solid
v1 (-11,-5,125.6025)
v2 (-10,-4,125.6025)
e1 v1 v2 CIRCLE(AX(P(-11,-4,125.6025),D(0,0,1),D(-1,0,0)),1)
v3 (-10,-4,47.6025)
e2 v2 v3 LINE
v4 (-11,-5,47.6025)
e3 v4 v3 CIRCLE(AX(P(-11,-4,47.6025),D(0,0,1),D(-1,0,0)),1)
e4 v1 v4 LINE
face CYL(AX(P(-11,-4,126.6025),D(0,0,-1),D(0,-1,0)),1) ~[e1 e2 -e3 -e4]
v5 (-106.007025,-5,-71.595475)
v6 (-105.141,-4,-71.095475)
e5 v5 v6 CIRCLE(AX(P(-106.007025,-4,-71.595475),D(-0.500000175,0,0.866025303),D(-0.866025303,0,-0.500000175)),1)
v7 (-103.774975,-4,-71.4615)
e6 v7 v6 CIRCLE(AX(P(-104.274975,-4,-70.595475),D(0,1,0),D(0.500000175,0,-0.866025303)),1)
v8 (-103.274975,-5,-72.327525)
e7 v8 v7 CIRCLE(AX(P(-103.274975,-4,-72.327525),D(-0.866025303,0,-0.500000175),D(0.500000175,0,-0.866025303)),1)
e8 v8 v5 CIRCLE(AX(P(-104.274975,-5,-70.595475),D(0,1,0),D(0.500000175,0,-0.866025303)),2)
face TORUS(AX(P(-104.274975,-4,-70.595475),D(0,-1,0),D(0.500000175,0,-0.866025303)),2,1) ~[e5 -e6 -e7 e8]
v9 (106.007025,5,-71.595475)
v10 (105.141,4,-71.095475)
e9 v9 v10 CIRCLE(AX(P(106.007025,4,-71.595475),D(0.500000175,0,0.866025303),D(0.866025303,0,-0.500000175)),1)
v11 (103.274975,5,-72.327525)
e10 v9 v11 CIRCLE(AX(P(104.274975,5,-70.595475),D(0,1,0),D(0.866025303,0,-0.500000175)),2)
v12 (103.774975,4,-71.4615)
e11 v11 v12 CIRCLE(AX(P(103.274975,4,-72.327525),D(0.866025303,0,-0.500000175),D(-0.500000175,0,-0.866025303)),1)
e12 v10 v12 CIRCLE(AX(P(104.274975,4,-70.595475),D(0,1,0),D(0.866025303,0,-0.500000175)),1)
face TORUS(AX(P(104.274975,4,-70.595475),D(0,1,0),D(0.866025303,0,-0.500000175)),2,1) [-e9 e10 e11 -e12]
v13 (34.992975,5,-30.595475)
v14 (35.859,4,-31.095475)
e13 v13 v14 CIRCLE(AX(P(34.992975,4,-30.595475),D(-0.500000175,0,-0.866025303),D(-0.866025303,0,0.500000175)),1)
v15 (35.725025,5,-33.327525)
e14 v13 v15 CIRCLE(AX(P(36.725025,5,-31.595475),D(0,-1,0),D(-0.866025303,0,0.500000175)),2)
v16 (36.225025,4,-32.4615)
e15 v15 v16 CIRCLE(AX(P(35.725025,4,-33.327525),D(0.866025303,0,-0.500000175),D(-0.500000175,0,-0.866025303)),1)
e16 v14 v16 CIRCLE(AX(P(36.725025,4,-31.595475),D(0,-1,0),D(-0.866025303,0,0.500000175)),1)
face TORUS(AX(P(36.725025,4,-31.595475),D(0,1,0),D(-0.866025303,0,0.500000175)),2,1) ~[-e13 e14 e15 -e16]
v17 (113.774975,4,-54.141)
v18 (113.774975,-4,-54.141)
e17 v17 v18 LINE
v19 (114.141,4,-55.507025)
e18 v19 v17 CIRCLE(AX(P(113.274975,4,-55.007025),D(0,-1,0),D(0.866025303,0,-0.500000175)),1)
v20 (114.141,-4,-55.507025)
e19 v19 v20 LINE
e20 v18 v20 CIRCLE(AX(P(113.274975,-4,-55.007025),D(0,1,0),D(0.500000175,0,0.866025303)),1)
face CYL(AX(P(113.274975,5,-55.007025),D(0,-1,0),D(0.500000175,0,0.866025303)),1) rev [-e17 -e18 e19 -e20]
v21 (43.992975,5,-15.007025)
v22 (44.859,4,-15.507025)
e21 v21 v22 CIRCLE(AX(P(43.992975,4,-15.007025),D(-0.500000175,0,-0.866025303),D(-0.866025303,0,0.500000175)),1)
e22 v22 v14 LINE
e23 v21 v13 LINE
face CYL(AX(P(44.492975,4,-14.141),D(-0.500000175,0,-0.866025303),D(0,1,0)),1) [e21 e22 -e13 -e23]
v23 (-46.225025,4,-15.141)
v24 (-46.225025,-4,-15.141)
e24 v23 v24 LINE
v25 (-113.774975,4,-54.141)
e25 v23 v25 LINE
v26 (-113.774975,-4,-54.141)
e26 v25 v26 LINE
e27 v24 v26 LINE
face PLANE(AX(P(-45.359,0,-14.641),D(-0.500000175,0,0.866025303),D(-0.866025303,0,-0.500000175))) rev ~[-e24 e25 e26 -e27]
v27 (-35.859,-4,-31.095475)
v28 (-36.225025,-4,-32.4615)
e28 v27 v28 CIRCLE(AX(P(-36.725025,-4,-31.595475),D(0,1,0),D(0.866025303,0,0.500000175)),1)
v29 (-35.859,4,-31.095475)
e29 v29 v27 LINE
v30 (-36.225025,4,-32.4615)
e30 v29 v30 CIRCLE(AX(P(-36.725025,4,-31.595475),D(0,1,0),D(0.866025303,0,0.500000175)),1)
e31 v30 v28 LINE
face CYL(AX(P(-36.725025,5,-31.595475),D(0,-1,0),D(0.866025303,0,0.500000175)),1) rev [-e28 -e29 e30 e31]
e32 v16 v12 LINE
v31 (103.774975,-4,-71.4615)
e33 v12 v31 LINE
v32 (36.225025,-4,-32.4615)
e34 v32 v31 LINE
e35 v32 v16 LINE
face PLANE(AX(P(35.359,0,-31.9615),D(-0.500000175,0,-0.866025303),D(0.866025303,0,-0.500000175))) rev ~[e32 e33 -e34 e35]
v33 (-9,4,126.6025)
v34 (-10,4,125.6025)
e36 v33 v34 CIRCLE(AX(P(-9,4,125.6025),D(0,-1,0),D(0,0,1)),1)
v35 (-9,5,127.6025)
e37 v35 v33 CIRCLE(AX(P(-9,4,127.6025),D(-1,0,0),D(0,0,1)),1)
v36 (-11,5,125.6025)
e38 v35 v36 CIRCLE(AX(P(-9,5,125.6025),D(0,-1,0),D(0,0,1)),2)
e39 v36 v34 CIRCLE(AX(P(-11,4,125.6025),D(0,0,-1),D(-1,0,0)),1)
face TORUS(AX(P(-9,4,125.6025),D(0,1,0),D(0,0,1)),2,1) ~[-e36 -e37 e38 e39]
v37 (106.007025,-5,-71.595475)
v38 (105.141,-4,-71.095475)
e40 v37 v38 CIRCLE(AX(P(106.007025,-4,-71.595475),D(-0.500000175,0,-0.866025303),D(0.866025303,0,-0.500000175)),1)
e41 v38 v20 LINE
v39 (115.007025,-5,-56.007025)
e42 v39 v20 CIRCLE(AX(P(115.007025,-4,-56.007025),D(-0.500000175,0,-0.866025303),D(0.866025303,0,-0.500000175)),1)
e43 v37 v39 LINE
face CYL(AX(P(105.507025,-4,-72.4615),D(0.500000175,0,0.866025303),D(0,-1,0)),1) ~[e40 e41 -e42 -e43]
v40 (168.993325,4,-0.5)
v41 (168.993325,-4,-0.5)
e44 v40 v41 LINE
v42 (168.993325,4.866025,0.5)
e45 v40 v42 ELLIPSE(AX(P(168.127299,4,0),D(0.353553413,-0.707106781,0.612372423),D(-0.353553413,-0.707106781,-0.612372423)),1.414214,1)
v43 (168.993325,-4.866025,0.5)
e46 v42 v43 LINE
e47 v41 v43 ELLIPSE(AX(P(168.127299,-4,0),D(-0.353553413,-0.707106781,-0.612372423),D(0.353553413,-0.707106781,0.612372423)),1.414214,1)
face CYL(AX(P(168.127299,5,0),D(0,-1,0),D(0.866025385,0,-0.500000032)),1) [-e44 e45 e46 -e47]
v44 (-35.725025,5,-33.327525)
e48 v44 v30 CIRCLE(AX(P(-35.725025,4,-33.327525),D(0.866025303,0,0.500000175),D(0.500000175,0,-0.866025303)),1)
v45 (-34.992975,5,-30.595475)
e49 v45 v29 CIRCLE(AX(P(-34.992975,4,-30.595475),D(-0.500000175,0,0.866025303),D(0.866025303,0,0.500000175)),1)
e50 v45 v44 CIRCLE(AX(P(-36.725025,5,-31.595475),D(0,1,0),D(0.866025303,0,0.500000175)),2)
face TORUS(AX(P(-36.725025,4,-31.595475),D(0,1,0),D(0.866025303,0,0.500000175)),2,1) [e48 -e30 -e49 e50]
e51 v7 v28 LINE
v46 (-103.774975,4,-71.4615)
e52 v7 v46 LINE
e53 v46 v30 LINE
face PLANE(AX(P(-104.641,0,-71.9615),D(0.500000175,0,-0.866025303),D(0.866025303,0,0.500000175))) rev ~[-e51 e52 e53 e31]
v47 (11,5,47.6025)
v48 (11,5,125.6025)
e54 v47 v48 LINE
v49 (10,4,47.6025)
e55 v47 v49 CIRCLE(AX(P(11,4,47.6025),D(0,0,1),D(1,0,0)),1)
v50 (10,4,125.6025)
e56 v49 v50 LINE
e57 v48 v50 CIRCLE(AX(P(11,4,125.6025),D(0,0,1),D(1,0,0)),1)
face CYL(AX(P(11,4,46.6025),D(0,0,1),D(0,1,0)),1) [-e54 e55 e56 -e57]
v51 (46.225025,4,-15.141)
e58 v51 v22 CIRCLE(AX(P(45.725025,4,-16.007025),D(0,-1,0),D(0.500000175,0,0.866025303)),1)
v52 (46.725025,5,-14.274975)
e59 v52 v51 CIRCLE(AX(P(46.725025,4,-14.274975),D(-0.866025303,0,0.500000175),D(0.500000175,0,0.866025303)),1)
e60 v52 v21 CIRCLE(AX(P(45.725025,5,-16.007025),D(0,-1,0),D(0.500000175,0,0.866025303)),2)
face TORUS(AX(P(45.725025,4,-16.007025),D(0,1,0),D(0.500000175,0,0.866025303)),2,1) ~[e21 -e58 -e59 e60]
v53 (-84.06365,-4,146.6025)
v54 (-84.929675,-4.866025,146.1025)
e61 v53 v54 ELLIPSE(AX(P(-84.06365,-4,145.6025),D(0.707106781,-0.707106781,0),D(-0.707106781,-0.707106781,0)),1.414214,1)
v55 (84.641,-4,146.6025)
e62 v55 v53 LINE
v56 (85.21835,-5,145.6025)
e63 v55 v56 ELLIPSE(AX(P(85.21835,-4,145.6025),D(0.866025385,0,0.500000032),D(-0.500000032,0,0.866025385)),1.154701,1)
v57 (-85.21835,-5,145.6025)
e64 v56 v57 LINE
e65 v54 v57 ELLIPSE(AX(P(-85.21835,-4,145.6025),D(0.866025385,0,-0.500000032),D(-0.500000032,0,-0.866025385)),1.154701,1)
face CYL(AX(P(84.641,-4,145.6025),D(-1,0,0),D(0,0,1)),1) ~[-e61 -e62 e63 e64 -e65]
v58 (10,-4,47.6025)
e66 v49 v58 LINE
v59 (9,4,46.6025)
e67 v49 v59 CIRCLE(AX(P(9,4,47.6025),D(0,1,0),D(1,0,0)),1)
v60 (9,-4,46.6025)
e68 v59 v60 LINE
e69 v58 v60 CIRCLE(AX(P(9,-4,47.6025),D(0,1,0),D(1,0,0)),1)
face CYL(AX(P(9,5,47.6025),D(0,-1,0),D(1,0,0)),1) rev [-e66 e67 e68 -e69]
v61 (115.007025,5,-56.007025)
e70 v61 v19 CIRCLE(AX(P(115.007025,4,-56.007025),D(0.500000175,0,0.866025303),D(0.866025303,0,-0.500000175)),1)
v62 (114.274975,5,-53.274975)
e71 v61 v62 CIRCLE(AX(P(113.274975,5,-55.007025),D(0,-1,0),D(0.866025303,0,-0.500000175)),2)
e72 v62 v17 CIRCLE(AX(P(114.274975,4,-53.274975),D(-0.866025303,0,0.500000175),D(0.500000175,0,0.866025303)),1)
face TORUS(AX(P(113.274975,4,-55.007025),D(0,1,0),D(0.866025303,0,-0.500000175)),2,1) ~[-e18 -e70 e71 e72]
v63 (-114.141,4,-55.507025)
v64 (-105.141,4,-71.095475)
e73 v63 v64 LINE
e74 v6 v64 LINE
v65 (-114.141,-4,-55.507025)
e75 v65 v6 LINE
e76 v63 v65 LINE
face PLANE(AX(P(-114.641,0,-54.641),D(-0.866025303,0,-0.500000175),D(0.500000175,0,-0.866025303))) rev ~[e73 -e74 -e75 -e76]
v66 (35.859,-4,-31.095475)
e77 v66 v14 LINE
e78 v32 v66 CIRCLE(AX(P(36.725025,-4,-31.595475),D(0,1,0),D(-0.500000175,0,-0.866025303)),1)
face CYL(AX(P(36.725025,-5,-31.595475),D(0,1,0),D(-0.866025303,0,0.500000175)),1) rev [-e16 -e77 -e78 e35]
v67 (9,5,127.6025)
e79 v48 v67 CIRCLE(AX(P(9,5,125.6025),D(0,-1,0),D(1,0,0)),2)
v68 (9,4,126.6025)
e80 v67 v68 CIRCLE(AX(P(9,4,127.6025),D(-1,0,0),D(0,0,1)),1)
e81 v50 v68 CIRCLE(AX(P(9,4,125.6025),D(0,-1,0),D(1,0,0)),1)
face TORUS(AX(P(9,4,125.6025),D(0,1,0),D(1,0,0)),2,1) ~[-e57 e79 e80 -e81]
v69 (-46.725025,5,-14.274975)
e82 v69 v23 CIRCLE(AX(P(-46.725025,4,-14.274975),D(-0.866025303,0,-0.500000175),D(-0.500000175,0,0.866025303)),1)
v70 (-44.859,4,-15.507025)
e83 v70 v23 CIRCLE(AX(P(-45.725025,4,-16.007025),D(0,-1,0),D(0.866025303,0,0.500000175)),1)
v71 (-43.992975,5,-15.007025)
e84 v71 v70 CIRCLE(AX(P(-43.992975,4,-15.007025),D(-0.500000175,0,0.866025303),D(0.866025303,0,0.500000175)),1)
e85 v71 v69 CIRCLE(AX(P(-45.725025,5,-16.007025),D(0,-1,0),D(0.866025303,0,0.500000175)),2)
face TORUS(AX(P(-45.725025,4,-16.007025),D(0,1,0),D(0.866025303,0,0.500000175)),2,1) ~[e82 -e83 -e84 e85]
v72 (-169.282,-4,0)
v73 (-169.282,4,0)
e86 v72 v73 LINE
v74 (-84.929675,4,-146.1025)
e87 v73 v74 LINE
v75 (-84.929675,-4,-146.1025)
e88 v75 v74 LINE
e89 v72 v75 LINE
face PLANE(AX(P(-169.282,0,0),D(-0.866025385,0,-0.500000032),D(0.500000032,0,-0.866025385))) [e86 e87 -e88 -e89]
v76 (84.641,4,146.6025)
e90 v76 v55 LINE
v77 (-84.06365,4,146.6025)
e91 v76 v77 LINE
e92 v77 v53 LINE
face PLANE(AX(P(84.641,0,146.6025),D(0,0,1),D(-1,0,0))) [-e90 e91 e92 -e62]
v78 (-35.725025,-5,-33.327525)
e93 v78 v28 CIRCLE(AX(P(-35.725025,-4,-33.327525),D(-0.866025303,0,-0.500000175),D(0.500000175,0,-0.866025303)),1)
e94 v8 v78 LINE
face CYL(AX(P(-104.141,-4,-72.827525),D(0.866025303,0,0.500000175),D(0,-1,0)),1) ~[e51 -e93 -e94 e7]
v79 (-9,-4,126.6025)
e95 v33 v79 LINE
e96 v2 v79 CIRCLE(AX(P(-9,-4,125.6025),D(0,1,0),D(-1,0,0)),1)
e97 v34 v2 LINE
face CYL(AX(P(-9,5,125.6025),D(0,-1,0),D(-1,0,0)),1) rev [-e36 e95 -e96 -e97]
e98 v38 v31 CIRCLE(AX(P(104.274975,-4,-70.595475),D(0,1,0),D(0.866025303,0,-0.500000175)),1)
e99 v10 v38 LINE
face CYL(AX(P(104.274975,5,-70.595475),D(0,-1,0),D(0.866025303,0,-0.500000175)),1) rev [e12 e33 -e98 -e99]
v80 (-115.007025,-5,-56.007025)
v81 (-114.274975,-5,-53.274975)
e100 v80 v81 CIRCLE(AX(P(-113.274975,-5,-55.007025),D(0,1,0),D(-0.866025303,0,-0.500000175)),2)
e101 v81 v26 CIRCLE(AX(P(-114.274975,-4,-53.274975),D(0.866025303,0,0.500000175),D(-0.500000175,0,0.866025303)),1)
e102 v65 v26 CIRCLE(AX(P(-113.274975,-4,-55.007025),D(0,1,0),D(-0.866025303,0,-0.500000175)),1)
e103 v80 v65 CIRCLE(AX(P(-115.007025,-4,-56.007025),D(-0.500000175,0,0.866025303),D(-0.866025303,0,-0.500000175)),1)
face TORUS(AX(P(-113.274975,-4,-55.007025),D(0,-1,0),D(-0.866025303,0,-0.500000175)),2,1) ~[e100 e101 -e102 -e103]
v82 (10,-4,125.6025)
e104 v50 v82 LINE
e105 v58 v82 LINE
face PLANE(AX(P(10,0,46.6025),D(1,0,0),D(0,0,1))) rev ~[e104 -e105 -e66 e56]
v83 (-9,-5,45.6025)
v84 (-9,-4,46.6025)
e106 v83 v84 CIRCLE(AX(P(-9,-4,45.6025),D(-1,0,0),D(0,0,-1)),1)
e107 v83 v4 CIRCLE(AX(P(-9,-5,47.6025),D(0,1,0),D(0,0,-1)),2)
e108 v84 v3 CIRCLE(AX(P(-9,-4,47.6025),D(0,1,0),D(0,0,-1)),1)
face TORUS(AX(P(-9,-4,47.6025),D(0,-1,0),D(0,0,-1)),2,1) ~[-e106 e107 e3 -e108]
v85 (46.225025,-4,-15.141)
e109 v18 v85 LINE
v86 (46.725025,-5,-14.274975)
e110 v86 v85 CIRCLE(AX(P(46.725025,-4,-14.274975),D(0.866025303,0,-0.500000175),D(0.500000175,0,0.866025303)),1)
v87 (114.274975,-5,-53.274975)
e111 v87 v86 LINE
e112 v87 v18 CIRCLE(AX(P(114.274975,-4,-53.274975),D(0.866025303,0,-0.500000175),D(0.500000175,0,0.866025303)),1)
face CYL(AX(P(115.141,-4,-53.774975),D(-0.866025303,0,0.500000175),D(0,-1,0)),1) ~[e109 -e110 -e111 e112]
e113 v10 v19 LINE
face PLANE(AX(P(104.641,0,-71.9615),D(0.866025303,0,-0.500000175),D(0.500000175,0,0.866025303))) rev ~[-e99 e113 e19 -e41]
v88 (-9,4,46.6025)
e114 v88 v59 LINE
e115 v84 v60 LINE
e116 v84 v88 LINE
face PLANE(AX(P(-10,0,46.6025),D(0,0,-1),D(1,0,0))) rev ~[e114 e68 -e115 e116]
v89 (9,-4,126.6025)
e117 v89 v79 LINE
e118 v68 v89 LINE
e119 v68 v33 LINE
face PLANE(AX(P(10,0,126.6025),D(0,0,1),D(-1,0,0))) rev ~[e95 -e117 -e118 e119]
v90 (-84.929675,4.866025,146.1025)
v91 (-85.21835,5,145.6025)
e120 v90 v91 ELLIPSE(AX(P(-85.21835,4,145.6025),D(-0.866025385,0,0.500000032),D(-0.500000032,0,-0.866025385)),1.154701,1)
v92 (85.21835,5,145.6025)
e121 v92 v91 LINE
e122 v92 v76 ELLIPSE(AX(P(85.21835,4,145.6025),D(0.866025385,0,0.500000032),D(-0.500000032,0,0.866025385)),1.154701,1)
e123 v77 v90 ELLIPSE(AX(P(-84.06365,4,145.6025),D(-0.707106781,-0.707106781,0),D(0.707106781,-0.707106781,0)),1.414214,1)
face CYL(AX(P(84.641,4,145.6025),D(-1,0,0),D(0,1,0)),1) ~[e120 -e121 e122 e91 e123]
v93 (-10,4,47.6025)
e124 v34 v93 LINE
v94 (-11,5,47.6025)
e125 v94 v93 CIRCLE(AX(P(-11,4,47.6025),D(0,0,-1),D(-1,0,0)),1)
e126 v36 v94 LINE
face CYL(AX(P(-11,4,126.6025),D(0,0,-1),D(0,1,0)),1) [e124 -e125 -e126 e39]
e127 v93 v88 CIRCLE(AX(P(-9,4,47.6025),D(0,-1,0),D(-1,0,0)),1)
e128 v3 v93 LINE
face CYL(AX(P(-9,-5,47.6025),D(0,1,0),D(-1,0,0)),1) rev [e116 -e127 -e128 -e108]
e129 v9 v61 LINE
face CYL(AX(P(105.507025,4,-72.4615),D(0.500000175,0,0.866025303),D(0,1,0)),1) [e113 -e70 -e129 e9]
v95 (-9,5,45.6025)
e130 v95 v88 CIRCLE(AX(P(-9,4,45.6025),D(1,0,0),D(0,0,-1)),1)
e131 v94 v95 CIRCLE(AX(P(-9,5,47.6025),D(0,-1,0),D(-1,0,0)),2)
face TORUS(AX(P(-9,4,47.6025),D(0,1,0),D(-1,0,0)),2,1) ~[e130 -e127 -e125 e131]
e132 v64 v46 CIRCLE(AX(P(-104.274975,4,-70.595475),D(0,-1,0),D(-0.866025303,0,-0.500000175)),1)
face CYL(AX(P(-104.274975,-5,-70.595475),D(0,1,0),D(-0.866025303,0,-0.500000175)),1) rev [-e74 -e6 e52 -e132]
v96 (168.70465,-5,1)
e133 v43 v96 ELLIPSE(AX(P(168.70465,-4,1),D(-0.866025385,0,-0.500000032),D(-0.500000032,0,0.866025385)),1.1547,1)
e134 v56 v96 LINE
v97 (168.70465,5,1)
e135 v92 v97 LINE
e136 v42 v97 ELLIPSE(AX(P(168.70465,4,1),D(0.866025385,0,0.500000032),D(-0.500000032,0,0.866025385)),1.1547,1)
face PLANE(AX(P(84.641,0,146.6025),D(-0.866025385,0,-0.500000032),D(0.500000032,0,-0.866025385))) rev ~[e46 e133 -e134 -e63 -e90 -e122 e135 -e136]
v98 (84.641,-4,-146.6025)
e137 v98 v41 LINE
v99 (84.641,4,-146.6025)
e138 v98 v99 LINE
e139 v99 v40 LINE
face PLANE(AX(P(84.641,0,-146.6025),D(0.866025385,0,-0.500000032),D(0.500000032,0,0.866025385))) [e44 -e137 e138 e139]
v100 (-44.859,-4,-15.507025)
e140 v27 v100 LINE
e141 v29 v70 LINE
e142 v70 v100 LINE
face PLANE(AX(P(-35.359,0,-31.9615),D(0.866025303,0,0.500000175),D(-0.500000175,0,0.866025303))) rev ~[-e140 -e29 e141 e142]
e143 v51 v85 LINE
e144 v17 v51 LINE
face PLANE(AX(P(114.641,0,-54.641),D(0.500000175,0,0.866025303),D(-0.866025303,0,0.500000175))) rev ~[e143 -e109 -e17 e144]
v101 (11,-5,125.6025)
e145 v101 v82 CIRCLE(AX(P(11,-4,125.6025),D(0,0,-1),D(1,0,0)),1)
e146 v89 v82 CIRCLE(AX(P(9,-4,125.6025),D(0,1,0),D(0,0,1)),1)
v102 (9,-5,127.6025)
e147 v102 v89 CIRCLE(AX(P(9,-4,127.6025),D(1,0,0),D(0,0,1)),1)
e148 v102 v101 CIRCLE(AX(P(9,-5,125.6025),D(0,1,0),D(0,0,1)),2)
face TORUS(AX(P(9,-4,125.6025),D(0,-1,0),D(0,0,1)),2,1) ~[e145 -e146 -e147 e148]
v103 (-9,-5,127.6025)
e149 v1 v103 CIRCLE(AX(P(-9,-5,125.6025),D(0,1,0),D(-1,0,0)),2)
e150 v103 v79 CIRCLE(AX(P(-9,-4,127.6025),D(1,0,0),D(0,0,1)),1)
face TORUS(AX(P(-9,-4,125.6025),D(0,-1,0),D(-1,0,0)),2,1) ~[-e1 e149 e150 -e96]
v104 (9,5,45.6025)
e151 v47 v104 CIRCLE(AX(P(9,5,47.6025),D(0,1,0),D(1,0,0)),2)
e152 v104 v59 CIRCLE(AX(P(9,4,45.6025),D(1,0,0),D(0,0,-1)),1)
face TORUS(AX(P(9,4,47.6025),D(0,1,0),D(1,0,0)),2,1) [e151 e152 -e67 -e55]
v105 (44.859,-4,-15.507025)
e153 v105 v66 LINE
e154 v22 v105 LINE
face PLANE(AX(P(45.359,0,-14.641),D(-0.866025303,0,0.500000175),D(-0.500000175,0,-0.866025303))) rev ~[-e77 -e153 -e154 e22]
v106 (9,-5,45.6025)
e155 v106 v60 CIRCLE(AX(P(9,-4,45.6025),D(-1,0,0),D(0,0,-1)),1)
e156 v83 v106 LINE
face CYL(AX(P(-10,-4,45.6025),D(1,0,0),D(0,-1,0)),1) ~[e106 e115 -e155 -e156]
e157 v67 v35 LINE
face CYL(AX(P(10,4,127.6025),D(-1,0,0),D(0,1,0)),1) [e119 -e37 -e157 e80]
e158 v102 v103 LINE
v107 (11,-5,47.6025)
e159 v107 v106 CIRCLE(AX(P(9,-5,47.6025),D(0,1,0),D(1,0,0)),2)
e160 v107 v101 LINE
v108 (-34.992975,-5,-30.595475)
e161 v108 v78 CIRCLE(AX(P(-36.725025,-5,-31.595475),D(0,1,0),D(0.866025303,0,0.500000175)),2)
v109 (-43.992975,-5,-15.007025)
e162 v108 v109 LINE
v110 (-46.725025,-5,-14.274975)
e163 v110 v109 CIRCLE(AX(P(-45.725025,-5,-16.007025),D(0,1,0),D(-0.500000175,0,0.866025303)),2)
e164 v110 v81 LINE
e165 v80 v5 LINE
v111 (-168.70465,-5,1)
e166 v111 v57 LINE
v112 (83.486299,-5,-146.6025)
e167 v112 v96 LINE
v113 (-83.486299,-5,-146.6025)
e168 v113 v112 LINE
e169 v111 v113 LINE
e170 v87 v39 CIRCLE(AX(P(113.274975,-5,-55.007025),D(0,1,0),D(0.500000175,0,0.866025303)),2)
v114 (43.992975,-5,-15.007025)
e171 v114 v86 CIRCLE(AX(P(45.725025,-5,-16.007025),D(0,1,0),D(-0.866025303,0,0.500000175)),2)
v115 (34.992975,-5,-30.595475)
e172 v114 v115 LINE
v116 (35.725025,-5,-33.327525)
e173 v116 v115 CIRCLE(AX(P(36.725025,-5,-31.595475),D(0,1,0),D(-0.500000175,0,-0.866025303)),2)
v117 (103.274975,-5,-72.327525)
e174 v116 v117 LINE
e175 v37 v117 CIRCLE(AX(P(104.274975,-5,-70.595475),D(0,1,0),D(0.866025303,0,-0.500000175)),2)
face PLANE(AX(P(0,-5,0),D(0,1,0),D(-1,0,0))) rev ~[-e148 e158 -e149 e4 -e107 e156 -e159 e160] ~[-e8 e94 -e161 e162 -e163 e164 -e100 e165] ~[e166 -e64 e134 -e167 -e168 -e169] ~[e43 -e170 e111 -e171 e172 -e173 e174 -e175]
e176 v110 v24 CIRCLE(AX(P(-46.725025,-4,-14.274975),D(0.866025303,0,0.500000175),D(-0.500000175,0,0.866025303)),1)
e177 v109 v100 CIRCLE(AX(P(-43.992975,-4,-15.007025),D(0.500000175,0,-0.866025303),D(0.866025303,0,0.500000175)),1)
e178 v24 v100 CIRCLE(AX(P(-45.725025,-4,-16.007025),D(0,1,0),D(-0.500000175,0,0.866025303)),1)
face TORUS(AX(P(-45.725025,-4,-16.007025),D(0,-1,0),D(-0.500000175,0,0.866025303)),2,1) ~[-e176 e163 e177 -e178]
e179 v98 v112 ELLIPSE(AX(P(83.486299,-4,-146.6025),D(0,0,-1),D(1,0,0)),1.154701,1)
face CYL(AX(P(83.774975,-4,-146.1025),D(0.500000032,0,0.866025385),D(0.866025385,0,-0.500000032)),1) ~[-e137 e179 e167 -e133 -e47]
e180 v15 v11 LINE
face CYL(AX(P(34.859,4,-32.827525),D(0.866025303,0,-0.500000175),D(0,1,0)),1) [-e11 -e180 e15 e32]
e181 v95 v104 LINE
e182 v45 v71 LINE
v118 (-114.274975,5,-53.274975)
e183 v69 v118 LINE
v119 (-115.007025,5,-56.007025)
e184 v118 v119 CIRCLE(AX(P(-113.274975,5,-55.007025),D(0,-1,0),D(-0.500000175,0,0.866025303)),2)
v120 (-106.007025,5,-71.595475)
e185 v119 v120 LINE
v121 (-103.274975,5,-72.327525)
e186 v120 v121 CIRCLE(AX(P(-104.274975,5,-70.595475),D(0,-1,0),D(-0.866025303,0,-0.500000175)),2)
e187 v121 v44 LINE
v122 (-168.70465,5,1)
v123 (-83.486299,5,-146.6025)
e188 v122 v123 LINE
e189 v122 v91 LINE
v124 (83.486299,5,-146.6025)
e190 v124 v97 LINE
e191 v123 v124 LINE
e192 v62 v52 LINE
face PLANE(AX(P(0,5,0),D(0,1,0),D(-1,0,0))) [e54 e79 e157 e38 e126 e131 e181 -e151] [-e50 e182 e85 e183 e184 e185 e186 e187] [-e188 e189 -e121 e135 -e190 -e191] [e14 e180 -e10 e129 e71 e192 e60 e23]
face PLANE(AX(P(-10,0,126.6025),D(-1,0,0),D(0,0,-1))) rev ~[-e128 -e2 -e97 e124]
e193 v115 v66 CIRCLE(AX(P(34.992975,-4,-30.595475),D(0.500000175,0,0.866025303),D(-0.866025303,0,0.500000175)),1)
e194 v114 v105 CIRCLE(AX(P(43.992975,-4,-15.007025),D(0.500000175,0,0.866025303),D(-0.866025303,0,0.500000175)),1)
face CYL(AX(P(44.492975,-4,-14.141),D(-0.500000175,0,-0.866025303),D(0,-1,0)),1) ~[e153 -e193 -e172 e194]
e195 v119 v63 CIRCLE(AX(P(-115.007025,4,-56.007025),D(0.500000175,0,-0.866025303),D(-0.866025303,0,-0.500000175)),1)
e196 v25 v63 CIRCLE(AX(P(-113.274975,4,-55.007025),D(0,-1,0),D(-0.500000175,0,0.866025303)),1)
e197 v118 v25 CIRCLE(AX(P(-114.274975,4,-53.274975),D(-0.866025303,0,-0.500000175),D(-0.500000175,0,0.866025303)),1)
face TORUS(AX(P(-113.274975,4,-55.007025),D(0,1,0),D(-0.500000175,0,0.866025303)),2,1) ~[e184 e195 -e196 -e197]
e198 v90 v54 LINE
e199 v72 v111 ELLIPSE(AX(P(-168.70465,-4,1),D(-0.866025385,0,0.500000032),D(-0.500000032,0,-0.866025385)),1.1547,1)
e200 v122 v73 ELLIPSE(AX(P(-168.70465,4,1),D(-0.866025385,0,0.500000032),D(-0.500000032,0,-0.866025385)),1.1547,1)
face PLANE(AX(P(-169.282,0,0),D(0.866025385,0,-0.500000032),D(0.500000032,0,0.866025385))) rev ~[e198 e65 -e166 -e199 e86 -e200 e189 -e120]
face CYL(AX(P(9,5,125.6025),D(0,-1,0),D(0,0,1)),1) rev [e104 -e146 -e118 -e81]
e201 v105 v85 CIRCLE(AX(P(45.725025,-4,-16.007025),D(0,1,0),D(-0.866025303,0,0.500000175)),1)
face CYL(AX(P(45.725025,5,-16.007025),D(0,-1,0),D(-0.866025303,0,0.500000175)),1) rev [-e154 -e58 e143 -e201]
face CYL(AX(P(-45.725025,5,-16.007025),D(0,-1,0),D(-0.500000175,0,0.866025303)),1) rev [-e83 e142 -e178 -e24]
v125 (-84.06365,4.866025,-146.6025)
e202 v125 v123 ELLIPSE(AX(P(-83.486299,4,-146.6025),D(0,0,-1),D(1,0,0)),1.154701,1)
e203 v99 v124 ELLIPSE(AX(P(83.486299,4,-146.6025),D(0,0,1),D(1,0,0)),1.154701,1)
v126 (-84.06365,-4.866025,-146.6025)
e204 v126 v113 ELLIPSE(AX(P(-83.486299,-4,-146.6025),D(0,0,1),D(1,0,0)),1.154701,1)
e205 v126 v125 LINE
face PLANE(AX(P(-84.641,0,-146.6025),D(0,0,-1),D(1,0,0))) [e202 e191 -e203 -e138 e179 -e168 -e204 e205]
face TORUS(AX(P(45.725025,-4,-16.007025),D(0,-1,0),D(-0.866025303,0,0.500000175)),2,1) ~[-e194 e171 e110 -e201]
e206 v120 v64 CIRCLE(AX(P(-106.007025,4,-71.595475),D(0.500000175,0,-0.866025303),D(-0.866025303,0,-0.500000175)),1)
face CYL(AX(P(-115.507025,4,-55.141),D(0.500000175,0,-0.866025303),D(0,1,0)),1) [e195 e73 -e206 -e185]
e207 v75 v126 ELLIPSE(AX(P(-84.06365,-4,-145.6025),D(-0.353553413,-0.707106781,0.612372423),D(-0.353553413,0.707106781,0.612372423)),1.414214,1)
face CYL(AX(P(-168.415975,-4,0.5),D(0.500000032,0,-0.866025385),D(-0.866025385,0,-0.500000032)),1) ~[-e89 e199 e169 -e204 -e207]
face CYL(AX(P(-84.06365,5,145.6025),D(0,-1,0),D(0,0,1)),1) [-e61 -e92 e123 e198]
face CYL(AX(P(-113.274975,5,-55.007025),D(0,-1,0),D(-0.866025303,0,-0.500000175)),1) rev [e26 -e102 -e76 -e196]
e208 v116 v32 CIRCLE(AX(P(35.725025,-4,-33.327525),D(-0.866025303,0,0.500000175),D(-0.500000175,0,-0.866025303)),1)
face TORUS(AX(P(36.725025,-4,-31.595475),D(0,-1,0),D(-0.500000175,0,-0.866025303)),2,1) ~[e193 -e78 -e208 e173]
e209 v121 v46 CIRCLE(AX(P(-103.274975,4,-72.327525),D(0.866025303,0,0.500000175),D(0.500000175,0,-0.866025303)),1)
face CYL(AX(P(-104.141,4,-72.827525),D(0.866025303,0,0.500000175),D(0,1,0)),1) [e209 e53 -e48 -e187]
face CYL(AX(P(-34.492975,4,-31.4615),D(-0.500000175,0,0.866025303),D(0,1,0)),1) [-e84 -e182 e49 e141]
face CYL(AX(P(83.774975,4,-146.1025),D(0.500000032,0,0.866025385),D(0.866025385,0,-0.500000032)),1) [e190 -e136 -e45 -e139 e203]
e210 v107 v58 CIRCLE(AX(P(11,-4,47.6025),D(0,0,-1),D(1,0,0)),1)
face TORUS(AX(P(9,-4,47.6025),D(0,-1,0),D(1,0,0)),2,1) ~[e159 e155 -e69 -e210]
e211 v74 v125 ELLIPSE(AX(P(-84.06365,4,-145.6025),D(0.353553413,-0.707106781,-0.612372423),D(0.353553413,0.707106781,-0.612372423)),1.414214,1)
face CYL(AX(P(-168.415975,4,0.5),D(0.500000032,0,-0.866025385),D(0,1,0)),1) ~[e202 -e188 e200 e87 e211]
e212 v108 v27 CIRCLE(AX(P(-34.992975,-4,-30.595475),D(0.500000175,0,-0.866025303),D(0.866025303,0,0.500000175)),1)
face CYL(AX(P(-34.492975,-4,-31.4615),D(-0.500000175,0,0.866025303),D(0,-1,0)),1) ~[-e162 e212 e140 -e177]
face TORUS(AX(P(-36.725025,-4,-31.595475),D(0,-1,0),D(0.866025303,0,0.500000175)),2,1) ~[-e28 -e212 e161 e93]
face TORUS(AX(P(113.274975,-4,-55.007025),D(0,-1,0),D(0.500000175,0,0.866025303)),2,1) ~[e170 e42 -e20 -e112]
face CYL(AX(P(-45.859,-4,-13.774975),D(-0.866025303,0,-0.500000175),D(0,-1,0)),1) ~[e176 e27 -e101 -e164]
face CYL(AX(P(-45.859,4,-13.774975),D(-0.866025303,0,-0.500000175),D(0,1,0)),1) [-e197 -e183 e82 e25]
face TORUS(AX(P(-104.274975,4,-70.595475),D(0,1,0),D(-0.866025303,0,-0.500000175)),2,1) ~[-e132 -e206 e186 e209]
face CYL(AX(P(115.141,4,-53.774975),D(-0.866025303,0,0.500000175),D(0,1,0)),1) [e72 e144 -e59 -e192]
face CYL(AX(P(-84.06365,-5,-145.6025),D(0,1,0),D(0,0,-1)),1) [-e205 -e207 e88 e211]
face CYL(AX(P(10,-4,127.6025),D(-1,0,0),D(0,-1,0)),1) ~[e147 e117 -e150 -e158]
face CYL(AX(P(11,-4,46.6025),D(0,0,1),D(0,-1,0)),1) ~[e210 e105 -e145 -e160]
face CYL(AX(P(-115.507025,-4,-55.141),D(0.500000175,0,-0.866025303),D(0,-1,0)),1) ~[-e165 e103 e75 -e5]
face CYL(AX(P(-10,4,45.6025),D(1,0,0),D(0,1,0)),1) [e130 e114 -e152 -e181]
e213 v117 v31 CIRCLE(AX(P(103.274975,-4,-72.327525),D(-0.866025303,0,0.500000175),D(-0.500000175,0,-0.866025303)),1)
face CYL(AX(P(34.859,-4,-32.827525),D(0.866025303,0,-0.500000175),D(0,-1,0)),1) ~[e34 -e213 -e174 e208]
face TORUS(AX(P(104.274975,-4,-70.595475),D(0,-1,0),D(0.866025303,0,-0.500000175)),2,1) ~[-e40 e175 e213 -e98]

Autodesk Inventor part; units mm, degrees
ref_plane "YZ Plane" through (0, 0, 0) normal (1, 0, 0) x (0, 1, 0)
ref_plane "XZ Plane" through (0, 0, 0) normal (0, 1, 0) x (-1, 0, 0)
ref_plane "XY Plane" through (0, 0, 0) normal (0, 0, 1) x (1, 0, 0)
sketch "Sketch1" plane through (0, 0, 0) normal (0, 1, 0) x (-1, 0, 0)
  line L0 (0, -173.2051) -> (150, 86.6025) construction
  line L1 (150, 86.6025) -> (-150, 86.6025) construction
  line L2 (-150, 86.6025) -> (0, -173.2051) construction
  line L3 (0, -169.0715) -> (0, 107.349) construction
  line L4 (10, 46.6025) -> (-10, 46.6025)
  line L5 (-10, 46.6025) -> (-10, 126.6025)
  line L6 (-10, 126.6025) -> (10, 126.6025)
  line L7 (10, 126.6025) -> (10, 46.6025)
  line L8 (-84.641, -146.6025) -> (-169.282, 0)
  line L9 (-84.641, 146.6025) -> (84.641, 146.6025)
  line L10 (169.282, 0) -> (84.641, -146.6025)
  line L11 (104.641, -71.9615) -> (35.359, -31.9615)
  line L12 (35.359, -31.9615) -> (45.359, -14.641)
  line L13 (45.359, -14.641) -> (114.641, -54.641)
  line L14 (114.641, -54.641) -> (104.641, -71.9615)
  line L15 (-35.359, -31.9615) -> (-104.641, -71.9615)
  line L16 (-104.641, -71.9615) -> (-114.641, -54.641)
  line L17 (-114.641, -54.641) -> (-45.359, -14.641)
  line L18 (-45.359, -14.641) -> (-35.359, -31.9615)
  line L19 (54.4642, -31.4449) -> (-94.6243, 54.6314) construction
  line L20 (94.7911, 54.7276) -> (-53.1844, -30.706) construction
  line L21 (-84.641, 146.6025) -> (-169.282, 0)
  line L22 (169.282, 0) -> (84.641, 146.6025)
  line L23 (84.641, -146.6025) -> (-84.641, -146.6025)
  point P0 (0, 0)
  dimension "SlotWidth" = 20
  dimension "SlotHeight" = 80
  dimension "SlotHeightCenterline" = 40
  dimension "d8" = 80
  dimension "d9" = 20
  dimension "d10" = 40
  dimension "EdgeThickness" = 20
  dimension "d12" = 20
  dimension "d13" = 80
  dimension "d14" = 20
  dimension "d15" = 40
  dimension "d16" = 20
  dimension "BaseCenterline" = 150
  dimension "d24" = 150
  dimension "PlateWidth" = 338.5641
  dimension "PlateHeight" = 293.2051
extrude "Extrusion1" add sketch "Sketch1" along normal mid plane 10
fillet "Fillet1" radius 1 45 edges at (104.641, 0, -71.9615) (109.641, -5, -63.3013) (114.641, 0, -54.641) (109.641, 5, -63.3013) (80, -5, -34.641) (45.359, 0, -14.641) (80, 5, -34.641) (40.359, -5, -23.3013) (35.359, 0, -31.9615) (40.359, 5, -23.3013) (70, -5, -51.9615) (70, 5, -51.9615) (-35.359, 0, -31.9615) (-40.359, -5, -23.3013) (-45.359, 0, -14.641) (-40.359, 5, -23.3013) (-80, -5, -34.641) (-114.641, 0, -54.641) (-80, 5, -34.641) (-109.641, -5, -63.3013) (-104.641, 0, -71.9615) (-109.641, 5, -63.3013) (-70, -5, -51.9615) (-70, 5, -51.9615) (10, 0, 46.6025) (10, -5, 86.6025) (10, 0, 126.6025) (10, 5, 86.6025) (0, -5, 126.6025) (-10, 0, 126.6025) (0, 5, 126.6025) (-10, -5, 86.6025) (-10, 0, 46.6025) (-10, 5, 86.6025) (0, -5, 46.6025) (0, 5, 46.6025) (126.9615, -5, -73.3013) (0, -5, 146.6025) (-126.9615, -5, -73.3013) (169.282, 0, 0) (0, 5, 146.6025) (-84.641, 0, 146.6025) (-126.9615, 5, -73.3013) (-84.641, 0, -146.6025) (126.9615, 5, -73.3013)
equation "\"SlotHeightCenterline\" = 0.5 * SlotHeight"
equation "\"d8\" = SlotHeight"
equation "\"d9\" = SlotWidth"
equation "\"d10\" = SlotHeightCenterline"
equation "\"d12\" = EdgeThickness"
equation "\"d13\" = SlotHeight"
equation "\"d14\" = SlotWidth"
equation "\"d15\" = SlotHeightCenterline"
equation "\"d16\" = EdgeThickness"
equation "\"BaseCenterline\" = 0.5 * BaseLength"
equation "\"d24\" = BaseCenterline"
equation "\"BaseLength\" = 300"
properties part number "BASE002 - 300mm Plate"
